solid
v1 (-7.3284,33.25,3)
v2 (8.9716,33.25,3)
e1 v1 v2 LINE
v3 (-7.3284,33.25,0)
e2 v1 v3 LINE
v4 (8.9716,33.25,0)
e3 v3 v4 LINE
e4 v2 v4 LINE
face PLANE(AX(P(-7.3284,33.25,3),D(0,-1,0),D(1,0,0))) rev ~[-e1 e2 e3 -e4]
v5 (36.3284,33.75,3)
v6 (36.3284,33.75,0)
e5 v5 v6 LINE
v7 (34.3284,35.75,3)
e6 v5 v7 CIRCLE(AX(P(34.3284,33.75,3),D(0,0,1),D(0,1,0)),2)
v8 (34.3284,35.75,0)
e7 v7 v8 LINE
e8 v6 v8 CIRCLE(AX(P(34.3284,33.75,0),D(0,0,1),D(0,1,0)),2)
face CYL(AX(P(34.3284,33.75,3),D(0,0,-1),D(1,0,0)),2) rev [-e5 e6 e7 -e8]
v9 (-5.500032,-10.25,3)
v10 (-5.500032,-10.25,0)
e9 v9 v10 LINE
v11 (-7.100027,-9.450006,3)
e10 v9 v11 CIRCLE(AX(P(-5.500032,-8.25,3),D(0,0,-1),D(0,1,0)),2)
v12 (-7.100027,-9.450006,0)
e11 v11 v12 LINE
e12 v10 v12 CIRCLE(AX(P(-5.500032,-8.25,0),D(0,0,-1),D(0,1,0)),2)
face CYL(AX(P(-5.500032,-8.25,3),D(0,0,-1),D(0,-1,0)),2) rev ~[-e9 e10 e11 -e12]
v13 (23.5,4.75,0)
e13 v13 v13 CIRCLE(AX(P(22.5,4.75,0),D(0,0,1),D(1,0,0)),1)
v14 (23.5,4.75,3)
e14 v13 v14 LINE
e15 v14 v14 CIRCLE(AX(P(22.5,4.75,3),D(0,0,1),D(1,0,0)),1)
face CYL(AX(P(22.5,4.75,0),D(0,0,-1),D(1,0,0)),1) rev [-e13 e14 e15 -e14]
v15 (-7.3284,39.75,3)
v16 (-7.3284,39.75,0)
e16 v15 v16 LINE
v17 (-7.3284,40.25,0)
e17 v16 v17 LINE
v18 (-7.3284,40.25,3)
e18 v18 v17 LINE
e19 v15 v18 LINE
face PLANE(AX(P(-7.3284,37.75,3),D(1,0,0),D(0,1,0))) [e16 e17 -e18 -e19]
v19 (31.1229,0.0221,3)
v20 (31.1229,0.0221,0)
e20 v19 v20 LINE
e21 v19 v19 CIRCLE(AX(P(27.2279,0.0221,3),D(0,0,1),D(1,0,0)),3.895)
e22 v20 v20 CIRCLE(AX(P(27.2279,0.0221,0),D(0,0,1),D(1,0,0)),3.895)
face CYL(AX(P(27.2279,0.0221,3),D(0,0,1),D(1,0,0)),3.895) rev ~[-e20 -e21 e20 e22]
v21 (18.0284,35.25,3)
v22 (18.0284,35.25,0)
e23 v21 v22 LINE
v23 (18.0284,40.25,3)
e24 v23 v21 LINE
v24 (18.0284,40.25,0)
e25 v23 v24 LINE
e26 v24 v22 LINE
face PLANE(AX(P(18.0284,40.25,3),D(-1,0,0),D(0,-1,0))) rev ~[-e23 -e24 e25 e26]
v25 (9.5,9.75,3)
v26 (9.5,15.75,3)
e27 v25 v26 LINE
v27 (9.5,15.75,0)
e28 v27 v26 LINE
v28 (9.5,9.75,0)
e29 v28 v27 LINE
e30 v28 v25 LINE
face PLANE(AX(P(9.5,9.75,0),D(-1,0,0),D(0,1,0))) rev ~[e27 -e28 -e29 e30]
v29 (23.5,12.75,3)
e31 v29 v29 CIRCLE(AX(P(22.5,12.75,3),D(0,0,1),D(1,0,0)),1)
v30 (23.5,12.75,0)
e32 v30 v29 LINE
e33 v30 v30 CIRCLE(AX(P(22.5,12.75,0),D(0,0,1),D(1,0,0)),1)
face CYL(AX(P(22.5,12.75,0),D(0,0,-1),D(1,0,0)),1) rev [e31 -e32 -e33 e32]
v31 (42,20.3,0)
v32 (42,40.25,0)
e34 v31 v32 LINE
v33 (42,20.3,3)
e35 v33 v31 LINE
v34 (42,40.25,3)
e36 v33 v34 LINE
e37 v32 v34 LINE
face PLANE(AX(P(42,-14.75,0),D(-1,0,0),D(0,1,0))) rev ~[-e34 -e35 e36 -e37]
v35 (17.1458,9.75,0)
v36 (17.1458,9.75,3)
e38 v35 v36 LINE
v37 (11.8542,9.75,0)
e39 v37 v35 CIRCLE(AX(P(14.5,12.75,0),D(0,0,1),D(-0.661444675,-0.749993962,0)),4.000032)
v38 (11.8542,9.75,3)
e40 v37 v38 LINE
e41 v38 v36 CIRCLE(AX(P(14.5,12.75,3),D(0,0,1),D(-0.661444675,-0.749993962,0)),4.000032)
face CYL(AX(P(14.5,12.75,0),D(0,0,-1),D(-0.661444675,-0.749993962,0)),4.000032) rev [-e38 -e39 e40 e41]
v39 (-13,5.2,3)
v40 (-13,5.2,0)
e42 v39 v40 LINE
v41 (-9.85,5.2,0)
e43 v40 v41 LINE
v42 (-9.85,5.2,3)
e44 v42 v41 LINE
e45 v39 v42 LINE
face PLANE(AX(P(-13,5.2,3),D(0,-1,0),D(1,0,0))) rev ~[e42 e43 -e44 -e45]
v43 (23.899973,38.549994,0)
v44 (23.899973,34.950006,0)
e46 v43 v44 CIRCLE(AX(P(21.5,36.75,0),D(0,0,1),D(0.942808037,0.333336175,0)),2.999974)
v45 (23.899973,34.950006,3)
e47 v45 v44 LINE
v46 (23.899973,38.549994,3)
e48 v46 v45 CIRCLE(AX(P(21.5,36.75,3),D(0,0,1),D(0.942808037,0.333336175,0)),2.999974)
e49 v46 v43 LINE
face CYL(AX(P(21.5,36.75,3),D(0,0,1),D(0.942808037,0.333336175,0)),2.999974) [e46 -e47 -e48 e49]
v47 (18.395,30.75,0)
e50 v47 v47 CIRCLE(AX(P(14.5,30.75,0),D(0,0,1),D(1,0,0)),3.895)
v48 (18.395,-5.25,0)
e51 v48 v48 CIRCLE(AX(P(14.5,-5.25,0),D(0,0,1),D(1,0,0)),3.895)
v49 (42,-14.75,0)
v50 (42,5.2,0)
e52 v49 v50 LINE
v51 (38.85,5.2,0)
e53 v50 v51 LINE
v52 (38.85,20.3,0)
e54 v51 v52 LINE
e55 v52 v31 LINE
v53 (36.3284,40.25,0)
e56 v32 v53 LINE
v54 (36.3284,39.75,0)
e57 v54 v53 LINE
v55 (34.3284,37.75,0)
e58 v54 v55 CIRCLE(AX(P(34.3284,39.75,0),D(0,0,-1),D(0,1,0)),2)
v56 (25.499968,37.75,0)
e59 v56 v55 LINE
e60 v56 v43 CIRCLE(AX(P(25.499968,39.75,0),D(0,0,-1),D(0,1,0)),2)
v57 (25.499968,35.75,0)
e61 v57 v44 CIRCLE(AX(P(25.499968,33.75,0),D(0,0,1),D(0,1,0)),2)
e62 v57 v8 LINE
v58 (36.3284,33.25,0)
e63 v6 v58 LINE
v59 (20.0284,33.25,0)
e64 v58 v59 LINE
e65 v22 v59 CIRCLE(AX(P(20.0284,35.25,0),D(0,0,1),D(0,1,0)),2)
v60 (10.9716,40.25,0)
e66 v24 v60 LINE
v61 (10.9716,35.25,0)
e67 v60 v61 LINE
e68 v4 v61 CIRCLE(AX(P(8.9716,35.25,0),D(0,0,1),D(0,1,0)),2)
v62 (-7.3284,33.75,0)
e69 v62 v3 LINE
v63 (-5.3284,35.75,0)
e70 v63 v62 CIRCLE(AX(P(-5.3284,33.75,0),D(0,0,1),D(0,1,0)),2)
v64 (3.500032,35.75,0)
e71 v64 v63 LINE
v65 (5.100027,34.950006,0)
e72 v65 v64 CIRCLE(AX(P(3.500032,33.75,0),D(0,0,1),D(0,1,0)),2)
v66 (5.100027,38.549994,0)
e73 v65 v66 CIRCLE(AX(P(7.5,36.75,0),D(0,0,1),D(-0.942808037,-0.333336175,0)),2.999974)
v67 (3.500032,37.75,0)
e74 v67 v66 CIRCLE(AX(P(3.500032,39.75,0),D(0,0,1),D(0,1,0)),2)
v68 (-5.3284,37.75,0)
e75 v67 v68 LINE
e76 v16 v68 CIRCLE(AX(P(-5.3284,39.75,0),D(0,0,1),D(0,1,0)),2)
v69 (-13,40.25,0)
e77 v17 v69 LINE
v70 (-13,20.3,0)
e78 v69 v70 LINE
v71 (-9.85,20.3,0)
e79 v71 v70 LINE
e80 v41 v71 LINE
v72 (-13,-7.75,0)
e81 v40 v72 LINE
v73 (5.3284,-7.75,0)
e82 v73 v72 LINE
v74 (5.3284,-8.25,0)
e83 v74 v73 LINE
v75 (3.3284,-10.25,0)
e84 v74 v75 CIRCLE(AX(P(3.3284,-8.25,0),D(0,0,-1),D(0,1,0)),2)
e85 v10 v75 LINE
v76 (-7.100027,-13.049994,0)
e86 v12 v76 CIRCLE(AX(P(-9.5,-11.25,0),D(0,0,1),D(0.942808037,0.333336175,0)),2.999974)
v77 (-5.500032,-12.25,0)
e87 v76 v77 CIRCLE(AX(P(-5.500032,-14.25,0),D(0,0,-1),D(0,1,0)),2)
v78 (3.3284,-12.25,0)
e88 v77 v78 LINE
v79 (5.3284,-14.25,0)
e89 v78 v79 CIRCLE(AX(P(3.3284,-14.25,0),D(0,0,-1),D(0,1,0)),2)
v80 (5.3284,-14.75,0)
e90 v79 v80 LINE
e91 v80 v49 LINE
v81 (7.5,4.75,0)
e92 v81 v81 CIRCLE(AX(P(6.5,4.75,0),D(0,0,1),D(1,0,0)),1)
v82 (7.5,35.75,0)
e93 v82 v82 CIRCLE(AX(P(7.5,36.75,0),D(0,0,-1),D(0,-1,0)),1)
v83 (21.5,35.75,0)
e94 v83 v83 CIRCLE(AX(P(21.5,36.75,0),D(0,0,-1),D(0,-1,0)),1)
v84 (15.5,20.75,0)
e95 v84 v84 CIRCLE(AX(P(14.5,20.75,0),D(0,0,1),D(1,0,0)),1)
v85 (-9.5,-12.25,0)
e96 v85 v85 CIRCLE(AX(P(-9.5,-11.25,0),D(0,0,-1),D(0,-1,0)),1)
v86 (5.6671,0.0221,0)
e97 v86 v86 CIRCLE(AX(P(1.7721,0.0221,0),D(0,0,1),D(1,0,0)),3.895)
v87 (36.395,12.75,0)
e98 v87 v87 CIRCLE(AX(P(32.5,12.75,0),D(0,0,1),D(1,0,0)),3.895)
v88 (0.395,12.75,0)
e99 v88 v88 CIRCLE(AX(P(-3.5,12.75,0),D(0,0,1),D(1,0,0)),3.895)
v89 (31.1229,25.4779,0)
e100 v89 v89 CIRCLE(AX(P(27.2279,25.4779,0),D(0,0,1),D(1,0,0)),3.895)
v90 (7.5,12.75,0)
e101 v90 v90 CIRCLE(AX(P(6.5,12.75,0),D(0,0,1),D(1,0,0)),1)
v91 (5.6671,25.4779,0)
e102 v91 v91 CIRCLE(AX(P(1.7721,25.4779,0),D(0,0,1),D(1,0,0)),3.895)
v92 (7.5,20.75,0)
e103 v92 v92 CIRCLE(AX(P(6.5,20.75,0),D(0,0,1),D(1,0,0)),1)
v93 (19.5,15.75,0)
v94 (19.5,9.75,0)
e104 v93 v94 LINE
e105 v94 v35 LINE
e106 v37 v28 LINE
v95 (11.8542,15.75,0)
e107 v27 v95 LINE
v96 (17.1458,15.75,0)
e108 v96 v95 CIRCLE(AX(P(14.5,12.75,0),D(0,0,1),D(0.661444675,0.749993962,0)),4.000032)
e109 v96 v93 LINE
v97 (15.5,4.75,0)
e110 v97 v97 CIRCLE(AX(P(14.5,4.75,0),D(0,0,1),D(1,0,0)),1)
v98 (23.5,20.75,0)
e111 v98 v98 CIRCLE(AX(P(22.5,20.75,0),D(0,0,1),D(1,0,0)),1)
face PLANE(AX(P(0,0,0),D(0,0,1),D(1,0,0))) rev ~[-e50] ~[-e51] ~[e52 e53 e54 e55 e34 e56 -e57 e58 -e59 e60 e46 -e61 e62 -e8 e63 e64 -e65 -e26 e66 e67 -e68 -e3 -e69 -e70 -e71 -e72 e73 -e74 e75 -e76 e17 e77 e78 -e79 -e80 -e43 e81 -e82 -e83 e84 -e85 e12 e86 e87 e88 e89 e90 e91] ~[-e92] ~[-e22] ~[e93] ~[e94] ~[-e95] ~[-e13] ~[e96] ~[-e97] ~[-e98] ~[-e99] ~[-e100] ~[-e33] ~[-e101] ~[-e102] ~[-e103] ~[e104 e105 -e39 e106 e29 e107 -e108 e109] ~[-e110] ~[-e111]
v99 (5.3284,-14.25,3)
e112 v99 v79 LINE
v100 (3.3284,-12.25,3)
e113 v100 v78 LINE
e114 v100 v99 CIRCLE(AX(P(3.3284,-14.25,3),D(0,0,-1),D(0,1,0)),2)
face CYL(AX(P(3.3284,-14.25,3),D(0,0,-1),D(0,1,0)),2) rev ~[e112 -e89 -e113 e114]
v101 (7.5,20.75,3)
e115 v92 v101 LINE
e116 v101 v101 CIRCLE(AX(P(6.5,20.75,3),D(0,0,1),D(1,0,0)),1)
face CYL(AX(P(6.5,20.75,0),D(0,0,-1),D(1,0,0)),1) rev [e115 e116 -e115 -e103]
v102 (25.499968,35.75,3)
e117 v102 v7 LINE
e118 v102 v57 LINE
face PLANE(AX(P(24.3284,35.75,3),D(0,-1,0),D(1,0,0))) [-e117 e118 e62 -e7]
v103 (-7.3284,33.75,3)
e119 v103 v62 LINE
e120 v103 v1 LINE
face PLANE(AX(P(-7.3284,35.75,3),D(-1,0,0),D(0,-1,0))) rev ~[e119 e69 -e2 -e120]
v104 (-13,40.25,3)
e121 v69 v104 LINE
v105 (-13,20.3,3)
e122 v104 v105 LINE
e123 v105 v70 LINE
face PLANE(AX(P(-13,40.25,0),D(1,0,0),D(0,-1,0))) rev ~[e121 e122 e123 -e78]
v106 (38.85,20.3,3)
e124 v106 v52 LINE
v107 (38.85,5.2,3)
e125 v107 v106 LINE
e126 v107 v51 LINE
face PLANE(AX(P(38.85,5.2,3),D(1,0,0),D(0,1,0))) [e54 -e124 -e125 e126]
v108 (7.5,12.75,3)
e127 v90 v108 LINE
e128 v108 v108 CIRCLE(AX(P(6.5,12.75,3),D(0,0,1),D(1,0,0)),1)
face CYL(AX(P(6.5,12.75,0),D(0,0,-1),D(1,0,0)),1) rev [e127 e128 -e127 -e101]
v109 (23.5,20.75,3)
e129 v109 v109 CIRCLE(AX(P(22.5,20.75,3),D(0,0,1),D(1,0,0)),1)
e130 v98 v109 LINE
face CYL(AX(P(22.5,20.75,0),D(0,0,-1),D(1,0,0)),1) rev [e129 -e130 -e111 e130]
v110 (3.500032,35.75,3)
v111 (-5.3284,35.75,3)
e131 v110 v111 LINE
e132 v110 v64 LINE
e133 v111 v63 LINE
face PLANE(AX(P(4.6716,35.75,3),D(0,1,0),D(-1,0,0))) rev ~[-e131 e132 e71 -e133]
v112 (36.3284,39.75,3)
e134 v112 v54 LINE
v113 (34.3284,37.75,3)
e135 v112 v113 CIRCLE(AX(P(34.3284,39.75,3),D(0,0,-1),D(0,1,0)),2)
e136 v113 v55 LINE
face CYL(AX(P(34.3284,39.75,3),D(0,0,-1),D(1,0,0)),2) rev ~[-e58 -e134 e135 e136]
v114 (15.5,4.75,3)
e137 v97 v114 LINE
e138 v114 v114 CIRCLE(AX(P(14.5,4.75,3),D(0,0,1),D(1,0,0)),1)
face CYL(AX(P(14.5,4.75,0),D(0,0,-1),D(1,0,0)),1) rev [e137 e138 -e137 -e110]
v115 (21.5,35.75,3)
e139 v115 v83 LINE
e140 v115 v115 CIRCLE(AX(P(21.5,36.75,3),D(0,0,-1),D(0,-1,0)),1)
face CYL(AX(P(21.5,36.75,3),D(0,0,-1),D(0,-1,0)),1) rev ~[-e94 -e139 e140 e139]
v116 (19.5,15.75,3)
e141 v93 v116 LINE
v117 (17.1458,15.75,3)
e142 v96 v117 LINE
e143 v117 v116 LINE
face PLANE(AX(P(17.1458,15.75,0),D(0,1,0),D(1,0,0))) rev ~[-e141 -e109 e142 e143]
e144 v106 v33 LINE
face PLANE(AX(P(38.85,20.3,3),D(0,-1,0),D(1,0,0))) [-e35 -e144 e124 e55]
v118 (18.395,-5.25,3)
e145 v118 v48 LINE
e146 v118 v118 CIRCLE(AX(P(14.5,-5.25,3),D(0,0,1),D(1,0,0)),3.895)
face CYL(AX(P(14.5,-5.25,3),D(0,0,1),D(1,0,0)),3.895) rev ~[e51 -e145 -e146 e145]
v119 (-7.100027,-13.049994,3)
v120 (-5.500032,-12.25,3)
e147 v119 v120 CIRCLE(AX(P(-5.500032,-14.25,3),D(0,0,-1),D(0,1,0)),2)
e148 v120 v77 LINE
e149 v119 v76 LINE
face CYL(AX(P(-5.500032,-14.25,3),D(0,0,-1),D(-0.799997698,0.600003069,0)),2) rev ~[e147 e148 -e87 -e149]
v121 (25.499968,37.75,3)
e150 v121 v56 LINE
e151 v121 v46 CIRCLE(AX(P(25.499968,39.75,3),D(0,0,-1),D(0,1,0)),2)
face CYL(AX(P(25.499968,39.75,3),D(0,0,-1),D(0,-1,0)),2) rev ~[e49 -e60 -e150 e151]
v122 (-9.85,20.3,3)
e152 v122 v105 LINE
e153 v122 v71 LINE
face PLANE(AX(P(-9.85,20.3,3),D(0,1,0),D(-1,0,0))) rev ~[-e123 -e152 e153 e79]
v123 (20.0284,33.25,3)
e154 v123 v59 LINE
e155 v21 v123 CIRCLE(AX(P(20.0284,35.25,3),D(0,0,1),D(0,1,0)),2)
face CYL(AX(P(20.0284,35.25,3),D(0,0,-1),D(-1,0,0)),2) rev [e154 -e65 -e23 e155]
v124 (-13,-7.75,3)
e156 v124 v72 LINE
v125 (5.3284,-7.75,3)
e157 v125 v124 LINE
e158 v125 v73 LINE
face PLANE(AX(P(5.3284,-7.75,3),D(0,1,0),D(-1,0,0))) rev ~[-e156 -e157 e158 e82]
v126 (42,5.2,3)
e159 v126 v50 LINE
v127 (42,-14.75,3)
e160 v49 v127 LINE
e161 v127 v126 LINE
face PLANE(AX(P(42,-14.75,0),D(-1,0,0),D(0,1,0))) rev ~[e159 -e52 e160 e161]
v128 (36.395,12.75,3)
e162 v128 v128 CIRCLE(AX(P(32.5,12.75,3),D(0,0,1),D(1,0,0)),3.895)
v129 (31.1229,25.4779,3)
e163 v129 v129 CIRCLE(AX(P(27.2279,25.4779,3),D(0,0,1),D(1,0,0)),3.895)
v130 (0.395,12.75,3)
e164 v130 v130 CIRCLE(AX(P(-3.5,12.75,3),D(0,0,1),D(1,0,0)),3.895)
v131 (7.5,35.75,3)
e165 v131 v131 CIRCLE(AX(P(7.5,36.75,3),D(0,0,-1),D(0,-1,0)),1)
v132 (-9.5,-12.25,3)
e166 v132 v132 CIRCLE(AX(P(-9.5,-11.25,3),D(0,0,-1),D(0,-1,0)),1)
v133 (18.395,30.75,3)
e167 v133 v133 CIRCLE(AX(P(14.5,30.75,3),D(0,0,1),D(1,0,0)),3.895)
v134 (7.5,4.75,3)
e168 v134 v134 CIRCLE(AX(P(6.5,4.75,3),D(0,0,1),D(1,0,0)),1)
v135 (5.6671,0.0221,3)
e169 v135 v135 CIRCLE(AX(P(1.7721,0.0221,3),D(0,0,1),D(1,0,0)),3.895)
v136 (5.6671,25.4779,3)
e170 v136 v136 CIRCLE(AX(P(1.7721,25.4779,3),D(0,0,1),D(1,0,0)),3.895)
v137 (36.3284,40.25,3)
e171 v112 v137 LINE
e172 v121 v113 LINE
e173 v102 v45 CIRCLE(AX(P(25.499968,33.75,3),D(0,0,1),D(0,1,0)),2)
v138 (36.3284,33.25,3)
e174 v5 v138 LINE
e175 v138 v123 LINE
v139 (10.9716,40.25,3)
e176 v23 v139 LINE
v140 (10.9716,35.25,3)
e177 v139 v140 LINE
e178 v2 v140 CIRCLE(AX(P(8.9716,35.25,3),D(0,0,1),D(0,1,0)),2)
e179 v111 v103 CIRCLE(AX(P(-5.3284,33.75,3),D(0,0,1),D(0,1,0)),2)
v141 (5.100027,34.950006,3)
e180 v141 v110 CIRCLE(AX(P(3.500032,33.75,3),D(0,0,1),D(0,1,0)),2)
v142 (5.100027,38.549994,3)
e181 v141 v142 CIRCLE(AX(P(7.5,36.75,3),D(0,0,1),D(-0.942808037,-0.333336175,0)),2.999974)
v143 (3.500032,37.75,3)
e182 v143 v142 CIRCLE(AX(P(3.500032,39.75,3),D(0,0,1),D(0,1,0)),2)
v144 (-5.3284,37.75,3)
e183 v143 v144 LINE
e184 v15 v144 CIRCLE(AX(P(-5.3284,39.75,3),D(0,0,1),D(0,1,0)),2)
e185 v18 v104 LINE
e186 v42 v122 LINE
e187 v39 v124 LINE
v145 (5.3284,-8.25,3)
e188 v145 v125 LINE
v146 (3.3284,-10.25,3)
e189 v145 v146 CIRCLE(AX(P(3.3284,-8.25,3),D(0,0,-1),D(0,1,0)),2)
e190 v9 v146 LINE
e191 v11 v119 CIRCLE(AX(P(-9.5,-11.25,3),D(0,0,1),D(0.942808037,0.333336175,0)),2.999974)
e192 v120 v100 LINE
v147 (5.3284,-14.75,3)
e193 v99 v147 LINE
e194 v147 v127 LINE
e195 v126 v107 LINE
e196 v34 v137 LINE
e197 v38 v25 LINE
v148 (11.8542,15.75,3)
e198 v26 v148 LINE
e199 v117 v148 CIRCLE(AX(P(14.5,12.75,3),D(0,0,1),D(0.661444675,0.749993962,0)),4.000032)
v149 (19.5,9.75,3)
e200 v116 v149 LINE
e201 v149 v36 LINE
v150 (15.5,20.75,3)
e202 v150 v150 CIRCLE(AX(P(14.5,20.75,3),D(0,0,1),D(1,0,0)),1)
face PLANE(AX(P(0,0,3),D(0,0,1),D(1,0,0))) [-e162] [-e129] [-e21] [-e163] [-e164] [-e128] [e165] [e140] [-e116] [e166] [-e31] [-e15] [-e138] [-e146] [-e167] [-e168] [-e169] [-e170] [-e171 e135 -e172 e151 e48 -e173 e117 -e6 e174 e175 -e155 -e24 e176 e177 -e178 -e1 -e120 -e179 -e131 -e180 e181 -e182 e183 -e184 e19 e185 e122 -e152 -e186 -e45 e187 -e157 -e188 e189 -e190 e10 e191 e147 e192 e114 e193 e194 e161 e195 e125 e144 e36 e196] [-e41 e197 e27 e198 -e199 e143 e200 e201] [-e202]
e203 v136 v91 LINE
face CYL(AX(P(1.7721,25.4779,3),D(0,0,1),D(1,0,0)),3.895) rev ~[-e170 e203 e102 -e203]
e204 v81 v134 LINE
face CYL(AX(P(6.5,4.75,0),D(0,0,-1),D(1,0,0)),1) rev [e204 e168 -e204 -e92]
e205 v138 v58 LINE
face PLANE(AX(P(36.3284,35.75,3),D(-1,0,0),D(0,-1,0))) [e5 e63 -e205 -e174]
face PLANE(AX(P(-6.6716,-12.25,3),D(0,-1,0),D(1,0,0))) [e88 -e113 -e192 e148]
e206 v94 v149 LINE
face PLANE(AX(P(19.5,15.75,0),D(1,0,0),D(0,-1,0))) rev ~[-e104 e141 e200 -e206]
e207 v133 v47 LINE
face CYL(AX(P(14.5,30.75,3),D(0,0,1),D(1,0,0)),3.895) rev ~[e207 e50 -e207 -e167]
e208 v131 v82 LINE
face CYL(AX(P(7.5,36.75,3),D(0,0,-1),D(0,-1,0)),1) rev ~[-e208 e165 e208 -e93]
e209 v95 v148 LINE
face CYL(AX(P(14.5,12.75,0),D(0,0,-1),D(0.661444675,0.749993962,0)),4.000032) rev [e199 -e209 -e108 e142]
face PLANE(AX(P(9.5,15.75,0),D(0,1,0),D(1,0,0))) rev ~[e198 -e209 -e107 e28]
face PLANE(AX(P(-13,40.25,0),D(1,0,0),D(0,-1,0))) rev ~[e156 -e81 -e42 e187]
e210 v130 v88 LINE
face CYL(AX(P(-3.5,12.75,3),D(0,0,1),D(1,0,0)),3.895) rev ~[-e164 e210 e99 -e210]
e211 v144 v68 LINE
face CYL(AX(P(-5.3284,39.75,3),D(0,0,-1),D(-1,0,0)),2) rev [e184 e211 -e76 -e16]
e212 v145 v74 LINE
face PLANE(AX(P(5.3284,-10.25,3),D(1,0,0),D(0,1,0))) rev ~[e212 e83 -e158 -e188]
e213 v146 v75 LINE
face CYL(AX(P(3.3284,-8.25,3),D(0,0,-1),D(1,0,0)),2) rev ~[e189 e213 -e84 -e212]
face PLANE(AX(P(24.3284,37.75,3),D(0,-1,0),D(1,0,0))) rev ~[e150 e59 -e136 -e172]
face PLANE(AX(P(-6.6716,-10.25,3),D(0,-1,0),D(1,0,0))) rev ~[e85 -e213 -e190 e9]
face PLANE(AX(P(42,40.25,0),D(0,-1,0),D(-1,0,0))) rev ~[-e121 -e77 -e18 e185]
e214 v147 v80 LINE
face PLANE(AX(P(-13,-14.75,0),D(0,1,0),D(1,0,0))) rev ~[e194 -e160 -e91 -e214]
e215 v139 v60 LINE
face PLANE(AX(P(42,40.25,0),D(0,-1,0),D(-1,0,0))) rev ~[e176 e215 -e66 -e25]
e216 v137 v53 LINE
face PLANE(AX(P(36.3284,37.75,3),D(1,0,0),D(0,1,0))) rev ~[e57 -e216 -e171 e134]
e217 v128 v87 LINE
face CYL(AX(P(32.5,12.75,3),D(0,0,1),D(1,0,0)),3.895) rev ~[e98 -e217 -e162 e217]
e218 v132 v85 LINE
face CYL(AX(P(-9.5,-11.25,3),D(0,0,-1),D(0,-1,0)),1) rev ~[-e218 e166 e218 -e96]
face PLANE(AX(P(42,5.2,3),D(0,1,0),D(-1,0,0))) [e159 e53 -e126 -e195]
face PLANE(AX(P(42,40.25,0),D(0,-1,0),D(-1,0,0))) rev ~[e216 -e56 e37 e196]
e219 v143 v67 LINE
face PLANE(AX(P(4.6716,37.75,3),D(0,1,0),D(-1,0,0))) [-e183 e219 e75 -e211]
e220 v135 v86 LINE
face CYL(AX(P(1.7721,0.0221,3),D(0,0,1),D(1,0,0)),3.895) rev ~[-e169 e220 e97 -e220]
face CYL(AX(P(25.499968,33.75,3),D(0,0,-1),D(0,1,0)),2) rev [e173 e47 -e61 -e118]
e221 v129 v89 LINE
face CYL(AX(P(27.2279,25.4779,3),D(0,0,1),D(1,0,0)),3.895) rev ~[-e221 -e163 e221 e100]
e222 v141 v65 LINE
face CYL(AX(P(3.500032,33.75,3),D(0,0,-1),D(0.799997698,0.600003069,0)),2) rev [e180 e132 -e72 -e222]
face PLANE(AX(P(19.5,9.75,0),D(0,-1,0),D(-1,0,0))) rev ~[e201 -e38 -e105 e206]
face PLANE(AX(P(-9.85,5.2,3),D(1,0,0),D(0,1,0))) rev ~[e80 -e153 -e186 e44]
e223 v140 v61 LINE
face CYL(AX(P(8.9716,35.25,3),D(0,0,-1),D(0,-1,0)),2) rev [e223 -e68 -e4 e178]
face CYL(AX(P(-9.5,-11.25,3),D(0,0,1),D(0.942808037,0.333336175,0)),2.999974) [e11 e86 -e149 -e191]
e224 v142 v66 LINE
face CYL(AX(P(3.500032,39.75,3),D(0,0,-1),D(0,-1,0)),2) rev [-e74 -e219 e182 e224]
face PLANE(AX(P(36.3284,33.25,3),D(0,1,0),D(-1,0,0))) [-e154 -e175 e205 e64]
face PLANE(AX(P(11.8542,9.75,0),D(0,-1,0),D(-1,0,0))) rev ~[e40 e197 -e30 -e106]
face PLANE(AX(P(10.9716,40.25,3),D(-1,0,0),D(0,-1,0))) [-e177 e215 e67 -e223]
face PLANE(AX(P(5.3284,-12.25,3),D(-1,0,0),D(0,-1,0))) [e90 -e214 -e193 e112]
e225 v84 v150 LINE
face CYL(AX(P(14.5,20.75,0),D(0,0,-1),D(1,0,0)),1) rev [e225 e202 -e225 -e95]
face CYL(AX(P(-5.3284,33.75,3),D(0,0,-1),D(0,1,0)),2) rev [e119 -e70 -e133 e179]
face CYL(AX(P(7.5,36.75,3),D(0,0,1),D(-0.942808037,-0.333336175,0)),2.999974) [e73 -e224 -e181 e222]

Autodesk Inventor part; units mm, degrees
ref_plane "YZ Plane" through (0, 0, 0) normal (1, 0, 0) x (0, 1, 0)
ref_plane "XZ Plane" through (0, 0, 0) normal (0, 1, 0) x (-1, 0, 0)
ref_plane "XY Plane" through (0, 0, 0) normal (0, 0, 1) x (1, 0, 0)
ref_plane "Work Plane1" through (0, 0, 0) normal (0, 0, 1) x (1, 0, 0)
sketch "Sketch1" plane through (0, 0, 0) normal (0, 0, 1) x (1, 0, 0)
  circle A0 centre (6.5, 20.75) radius 1
  circle A1 centre (6.5, 4.75) radius 1
  circle A2 centre (22.5, 20.75) radius 1
  circle A3 centre (22.5, 4.75) radius 1
  line L0 (-13, -14.75) -> (42, -14.75)
  line L1 (42, -14.75) -> (42, 40.25)
  line L2 (42, 40.25) -> (-13, 40.25)
  line L3 (-13, 40.25) -> (-13, -14.75)
  line L4 (-13, -14.75) -> (42, 40.25) construction
  line L5 (42, -14.75) -> (-13, 40.25) construction
  circle A4 centre (22.5, 12.75) radius 1 projected
  circle A5 centre (14.5, 20.75) radius 1 projected
  circle A6 centre (14.5, 4.75) radius 1 projected
  circle A7 centre (6.5, 12.75) radius 1 projected
  line L6 (19.5, 15.75) -> (19.5, 9.75)
  line L7 (17.1458, 15.75) -> (19.5, 15.75)
  arc A8 (17.1458, 15.75) -> (11.8542, 15.75) centre (14.5, 12.75) ccw
  line L8 (9.5, 15.75) -> (11.8542, 15.75)
  line L9 (9.5, 9.75) -> (9.5, 15.75)
  line L10 (11.8542, 9.75) -> (9.5, 9.75)
  arc A9 (11.8542, 9.75) -> (17.1458, 9.75) centre (14.5, 12.75) ccw
  line L11 (19.5, 9.75) -> (17.1458, 9.75)
  point P0 (0, 0)
  dimension "d0" = 55
  dimension "d1" = 55
  dimension "d95" = 2
  dimension "d96" = 2
  dimension "d97" = 2
  dimension "d98" = 2
extrude "Extrusion3" add sketch "Sketch1" along normal blind 3
sketch "Sketch4" plane through (0, 0, 3) normal (0, 0, 1) x (1, 0, 0)
  line L0 (42, 40.25) -> (-13, 40.25) construction
  line L1 (14.5, 40.25) -> (14.5, 12.75) construction
  line L2 (-13, -14.75) -> (42, -14.75) construction
  line L3 (-13, 40.25) -> (-13, -14.75) construction
  line L4 (-13, 12.75) -> (14.5, 12.75) construction
  circle A0 centre (14.5, 30.75) radius 3.895
  circle A1 centre (1.7721, 25.4779) radius 3.895
  circle A2 centre (-3.5, 12.75) radius 3.895
  circle A3 centre (1.7721, 0.0221) radius 3.895
  circle A4 centre (14.5, -5.25) radius 3.895
  circle A5 centre (27.2279, 0.0221) radius 3.895
  circle A6 centre (32.5, 12.75) radius 3.895
  circle A7 centre (27.2279, 25.4779) radius 3.895
  arc A8 (4.6716, 35.75) -> (4.6716, 37.75) centre (7.5, 36.75) ccw
  line L5 (42, 40.25) -> (-13, 40.25)
  line L6 (7.5, 36.75) -> (-13, 36.75) construction
  line L7 (4.6716, 37.75) -> (-7.3284, 37.75)
  line L8 (4.6716, 35.75) -> (-7.3284, 35.75)
  line L9 (-7.3284, 37.75) -> (-7.3284, 40.25)
  line L10 (10.9716, 40.25) -> (-7.3284, 40.25)
  line L11 (-7.3284, 35.75) -> (-7.3284, 33.25)
  line L12 (-7.3284, 33.25) -> (10.9716, 33.25)
  line L13 (10.9716, 40.25) -> (10.9716, 33.25)
  arc A9 (24.3284, 37.75) -> (24.3284, 35.75) centre (21.5, 36.75) ccw
  line L14 (24.3284, 37.75) -> (36.3284, 37.75)
  line L15 (24.3284, 35.75) -> (36.3284, 35.75)
  line L16 (36.3284, 37.75) -> (36.3284, 40.25)
  line L17 (18.0284, 40.25) -> (36.3284, 40.25)
  line L18 (36.3284, 35.75) -> (36.3284, 33.25)
  line L19 (36.3284, 33.25) -> (18.0284, 33.25)
  line L20 (18.0284, 40.25) -> (18.0284, 33.25)
  arc A10 (-6.6716, -10.25) -> (-6.6716, -12.25) centre (-9.5, -11.25) ccw
  line L21 (-9.5, -11.25) -> (8.4531, -11.25) construction
  line L22 (-6.6716, -10.25) -> (5.3284, -10.25)
  line L23 (-6.6716, -12.25) -> (5.3284, -12.25)
  line L24 (5.3284, -12.25) -> (5.3284, -14.75)
  line L25 (5.3284, -10.25) -> (5.3284, -7.75)
  line L26 (5.3284, -7.75) -> (-13, -7.75)
  line L27 (-13, -14.75) -> (-13, -7.75)
  line L28 (-13, -14.75) -> (5.3284, -14.75)
  point P0 (0, 0)
  dimension "d24" = 7.79
  dimension "d25" = 18
  dimension "d28" = 360
  dimension "d63" = 6
  dimension "d64" = 7
  dimension "d65" = 12
  dimension "d66" = 18.3
  dimension "d67" = 2.5
  dimension "d68" = 3.5
  dimension "d71" = 1
  dimension "d74" = 6
  dimension "d75" = 3.5
  dimension "d76" = 3.5
  dimension "d77" = 12
  dimension "d78" = 1
  dimension "d79" = 2.5
extrude "Extrusion2" cut sketch "Sketch4" against normal through all
hole "Hole4" at (7.5, 36.75, 3) at (21.5, 36.75, 3) at (-9.5, -11.25, 3) direction (0, 0, -1) diameter 2 end through all
fillet "Fillet3" radius 2 14 edges at (-7.3284, 35.75, 1.5) (-7.3284, 37.75, 1.5) (4.6716, 37.75, 1.5) (4.6716, 35.75, 1.5) (10.9716, 33.25, 1.5) (24.3284, 37.75, 1.5) (24.3284, 35.75, 1.5) (36.3284, 37.75, 1.5) (36.3284, 35.75, 1.5) (18.0284, 33.25, 1.5) (5.3284, -10.25, 1.5) (5.3284, -12.25, 1.5) (-6.6716, -10.25, 1.5) (-6.6716, -12.25, 1.5)
sketch "Sketch6" plane through (0, 0, 3) normal (0, 0, 1) x (1, 0, 0)
  line L0 (38.85, 20.3) -> (42, 20.3)
  line L1 (42, 20.3) -> (42, 5.2)
  line L2 (42, 5.2) -> (38.85, 5.2)
  line L3 (38.85, 5.2) -> (38.85, 20.3)
  line L4 (42, -14.75) -> (42, 40.25) projected
  line L5 (18.0284, 40.25) -> (10.9716, 40.25) construction
  line L6 (14.5, 40.25) -> (14.5, -14.75) construction
  line L7 (5.3284, -14.75) -> (42, -14.75) construction
  line L8 (-9.85, 20.3) -> (-13, 20.3)
  line L9 (-13, 20.3) -> (-13, 5.2)
  line L10 (-13, 5.2) -> (-9.85, 5.2)
  line L11 (-9.85, 5.2) -> (-9.85, 20.3)
  line L12 (-13, -14.75) -> (-13, 40.25)
  point P0 (0, 0)
  point P1 (42, 12.75)
  point P2 (42, 12.75)
  point P3 (-13, 12.75)
  point P4 (-13, 12.75)
  dimension "d91" = 3.15
  dimension "d92" = 15.1
extrude "Extrusion4" cut sketch "Sketch6" against normal through all
equation "\"d38\" = d24"
properties part number "Bottom"
